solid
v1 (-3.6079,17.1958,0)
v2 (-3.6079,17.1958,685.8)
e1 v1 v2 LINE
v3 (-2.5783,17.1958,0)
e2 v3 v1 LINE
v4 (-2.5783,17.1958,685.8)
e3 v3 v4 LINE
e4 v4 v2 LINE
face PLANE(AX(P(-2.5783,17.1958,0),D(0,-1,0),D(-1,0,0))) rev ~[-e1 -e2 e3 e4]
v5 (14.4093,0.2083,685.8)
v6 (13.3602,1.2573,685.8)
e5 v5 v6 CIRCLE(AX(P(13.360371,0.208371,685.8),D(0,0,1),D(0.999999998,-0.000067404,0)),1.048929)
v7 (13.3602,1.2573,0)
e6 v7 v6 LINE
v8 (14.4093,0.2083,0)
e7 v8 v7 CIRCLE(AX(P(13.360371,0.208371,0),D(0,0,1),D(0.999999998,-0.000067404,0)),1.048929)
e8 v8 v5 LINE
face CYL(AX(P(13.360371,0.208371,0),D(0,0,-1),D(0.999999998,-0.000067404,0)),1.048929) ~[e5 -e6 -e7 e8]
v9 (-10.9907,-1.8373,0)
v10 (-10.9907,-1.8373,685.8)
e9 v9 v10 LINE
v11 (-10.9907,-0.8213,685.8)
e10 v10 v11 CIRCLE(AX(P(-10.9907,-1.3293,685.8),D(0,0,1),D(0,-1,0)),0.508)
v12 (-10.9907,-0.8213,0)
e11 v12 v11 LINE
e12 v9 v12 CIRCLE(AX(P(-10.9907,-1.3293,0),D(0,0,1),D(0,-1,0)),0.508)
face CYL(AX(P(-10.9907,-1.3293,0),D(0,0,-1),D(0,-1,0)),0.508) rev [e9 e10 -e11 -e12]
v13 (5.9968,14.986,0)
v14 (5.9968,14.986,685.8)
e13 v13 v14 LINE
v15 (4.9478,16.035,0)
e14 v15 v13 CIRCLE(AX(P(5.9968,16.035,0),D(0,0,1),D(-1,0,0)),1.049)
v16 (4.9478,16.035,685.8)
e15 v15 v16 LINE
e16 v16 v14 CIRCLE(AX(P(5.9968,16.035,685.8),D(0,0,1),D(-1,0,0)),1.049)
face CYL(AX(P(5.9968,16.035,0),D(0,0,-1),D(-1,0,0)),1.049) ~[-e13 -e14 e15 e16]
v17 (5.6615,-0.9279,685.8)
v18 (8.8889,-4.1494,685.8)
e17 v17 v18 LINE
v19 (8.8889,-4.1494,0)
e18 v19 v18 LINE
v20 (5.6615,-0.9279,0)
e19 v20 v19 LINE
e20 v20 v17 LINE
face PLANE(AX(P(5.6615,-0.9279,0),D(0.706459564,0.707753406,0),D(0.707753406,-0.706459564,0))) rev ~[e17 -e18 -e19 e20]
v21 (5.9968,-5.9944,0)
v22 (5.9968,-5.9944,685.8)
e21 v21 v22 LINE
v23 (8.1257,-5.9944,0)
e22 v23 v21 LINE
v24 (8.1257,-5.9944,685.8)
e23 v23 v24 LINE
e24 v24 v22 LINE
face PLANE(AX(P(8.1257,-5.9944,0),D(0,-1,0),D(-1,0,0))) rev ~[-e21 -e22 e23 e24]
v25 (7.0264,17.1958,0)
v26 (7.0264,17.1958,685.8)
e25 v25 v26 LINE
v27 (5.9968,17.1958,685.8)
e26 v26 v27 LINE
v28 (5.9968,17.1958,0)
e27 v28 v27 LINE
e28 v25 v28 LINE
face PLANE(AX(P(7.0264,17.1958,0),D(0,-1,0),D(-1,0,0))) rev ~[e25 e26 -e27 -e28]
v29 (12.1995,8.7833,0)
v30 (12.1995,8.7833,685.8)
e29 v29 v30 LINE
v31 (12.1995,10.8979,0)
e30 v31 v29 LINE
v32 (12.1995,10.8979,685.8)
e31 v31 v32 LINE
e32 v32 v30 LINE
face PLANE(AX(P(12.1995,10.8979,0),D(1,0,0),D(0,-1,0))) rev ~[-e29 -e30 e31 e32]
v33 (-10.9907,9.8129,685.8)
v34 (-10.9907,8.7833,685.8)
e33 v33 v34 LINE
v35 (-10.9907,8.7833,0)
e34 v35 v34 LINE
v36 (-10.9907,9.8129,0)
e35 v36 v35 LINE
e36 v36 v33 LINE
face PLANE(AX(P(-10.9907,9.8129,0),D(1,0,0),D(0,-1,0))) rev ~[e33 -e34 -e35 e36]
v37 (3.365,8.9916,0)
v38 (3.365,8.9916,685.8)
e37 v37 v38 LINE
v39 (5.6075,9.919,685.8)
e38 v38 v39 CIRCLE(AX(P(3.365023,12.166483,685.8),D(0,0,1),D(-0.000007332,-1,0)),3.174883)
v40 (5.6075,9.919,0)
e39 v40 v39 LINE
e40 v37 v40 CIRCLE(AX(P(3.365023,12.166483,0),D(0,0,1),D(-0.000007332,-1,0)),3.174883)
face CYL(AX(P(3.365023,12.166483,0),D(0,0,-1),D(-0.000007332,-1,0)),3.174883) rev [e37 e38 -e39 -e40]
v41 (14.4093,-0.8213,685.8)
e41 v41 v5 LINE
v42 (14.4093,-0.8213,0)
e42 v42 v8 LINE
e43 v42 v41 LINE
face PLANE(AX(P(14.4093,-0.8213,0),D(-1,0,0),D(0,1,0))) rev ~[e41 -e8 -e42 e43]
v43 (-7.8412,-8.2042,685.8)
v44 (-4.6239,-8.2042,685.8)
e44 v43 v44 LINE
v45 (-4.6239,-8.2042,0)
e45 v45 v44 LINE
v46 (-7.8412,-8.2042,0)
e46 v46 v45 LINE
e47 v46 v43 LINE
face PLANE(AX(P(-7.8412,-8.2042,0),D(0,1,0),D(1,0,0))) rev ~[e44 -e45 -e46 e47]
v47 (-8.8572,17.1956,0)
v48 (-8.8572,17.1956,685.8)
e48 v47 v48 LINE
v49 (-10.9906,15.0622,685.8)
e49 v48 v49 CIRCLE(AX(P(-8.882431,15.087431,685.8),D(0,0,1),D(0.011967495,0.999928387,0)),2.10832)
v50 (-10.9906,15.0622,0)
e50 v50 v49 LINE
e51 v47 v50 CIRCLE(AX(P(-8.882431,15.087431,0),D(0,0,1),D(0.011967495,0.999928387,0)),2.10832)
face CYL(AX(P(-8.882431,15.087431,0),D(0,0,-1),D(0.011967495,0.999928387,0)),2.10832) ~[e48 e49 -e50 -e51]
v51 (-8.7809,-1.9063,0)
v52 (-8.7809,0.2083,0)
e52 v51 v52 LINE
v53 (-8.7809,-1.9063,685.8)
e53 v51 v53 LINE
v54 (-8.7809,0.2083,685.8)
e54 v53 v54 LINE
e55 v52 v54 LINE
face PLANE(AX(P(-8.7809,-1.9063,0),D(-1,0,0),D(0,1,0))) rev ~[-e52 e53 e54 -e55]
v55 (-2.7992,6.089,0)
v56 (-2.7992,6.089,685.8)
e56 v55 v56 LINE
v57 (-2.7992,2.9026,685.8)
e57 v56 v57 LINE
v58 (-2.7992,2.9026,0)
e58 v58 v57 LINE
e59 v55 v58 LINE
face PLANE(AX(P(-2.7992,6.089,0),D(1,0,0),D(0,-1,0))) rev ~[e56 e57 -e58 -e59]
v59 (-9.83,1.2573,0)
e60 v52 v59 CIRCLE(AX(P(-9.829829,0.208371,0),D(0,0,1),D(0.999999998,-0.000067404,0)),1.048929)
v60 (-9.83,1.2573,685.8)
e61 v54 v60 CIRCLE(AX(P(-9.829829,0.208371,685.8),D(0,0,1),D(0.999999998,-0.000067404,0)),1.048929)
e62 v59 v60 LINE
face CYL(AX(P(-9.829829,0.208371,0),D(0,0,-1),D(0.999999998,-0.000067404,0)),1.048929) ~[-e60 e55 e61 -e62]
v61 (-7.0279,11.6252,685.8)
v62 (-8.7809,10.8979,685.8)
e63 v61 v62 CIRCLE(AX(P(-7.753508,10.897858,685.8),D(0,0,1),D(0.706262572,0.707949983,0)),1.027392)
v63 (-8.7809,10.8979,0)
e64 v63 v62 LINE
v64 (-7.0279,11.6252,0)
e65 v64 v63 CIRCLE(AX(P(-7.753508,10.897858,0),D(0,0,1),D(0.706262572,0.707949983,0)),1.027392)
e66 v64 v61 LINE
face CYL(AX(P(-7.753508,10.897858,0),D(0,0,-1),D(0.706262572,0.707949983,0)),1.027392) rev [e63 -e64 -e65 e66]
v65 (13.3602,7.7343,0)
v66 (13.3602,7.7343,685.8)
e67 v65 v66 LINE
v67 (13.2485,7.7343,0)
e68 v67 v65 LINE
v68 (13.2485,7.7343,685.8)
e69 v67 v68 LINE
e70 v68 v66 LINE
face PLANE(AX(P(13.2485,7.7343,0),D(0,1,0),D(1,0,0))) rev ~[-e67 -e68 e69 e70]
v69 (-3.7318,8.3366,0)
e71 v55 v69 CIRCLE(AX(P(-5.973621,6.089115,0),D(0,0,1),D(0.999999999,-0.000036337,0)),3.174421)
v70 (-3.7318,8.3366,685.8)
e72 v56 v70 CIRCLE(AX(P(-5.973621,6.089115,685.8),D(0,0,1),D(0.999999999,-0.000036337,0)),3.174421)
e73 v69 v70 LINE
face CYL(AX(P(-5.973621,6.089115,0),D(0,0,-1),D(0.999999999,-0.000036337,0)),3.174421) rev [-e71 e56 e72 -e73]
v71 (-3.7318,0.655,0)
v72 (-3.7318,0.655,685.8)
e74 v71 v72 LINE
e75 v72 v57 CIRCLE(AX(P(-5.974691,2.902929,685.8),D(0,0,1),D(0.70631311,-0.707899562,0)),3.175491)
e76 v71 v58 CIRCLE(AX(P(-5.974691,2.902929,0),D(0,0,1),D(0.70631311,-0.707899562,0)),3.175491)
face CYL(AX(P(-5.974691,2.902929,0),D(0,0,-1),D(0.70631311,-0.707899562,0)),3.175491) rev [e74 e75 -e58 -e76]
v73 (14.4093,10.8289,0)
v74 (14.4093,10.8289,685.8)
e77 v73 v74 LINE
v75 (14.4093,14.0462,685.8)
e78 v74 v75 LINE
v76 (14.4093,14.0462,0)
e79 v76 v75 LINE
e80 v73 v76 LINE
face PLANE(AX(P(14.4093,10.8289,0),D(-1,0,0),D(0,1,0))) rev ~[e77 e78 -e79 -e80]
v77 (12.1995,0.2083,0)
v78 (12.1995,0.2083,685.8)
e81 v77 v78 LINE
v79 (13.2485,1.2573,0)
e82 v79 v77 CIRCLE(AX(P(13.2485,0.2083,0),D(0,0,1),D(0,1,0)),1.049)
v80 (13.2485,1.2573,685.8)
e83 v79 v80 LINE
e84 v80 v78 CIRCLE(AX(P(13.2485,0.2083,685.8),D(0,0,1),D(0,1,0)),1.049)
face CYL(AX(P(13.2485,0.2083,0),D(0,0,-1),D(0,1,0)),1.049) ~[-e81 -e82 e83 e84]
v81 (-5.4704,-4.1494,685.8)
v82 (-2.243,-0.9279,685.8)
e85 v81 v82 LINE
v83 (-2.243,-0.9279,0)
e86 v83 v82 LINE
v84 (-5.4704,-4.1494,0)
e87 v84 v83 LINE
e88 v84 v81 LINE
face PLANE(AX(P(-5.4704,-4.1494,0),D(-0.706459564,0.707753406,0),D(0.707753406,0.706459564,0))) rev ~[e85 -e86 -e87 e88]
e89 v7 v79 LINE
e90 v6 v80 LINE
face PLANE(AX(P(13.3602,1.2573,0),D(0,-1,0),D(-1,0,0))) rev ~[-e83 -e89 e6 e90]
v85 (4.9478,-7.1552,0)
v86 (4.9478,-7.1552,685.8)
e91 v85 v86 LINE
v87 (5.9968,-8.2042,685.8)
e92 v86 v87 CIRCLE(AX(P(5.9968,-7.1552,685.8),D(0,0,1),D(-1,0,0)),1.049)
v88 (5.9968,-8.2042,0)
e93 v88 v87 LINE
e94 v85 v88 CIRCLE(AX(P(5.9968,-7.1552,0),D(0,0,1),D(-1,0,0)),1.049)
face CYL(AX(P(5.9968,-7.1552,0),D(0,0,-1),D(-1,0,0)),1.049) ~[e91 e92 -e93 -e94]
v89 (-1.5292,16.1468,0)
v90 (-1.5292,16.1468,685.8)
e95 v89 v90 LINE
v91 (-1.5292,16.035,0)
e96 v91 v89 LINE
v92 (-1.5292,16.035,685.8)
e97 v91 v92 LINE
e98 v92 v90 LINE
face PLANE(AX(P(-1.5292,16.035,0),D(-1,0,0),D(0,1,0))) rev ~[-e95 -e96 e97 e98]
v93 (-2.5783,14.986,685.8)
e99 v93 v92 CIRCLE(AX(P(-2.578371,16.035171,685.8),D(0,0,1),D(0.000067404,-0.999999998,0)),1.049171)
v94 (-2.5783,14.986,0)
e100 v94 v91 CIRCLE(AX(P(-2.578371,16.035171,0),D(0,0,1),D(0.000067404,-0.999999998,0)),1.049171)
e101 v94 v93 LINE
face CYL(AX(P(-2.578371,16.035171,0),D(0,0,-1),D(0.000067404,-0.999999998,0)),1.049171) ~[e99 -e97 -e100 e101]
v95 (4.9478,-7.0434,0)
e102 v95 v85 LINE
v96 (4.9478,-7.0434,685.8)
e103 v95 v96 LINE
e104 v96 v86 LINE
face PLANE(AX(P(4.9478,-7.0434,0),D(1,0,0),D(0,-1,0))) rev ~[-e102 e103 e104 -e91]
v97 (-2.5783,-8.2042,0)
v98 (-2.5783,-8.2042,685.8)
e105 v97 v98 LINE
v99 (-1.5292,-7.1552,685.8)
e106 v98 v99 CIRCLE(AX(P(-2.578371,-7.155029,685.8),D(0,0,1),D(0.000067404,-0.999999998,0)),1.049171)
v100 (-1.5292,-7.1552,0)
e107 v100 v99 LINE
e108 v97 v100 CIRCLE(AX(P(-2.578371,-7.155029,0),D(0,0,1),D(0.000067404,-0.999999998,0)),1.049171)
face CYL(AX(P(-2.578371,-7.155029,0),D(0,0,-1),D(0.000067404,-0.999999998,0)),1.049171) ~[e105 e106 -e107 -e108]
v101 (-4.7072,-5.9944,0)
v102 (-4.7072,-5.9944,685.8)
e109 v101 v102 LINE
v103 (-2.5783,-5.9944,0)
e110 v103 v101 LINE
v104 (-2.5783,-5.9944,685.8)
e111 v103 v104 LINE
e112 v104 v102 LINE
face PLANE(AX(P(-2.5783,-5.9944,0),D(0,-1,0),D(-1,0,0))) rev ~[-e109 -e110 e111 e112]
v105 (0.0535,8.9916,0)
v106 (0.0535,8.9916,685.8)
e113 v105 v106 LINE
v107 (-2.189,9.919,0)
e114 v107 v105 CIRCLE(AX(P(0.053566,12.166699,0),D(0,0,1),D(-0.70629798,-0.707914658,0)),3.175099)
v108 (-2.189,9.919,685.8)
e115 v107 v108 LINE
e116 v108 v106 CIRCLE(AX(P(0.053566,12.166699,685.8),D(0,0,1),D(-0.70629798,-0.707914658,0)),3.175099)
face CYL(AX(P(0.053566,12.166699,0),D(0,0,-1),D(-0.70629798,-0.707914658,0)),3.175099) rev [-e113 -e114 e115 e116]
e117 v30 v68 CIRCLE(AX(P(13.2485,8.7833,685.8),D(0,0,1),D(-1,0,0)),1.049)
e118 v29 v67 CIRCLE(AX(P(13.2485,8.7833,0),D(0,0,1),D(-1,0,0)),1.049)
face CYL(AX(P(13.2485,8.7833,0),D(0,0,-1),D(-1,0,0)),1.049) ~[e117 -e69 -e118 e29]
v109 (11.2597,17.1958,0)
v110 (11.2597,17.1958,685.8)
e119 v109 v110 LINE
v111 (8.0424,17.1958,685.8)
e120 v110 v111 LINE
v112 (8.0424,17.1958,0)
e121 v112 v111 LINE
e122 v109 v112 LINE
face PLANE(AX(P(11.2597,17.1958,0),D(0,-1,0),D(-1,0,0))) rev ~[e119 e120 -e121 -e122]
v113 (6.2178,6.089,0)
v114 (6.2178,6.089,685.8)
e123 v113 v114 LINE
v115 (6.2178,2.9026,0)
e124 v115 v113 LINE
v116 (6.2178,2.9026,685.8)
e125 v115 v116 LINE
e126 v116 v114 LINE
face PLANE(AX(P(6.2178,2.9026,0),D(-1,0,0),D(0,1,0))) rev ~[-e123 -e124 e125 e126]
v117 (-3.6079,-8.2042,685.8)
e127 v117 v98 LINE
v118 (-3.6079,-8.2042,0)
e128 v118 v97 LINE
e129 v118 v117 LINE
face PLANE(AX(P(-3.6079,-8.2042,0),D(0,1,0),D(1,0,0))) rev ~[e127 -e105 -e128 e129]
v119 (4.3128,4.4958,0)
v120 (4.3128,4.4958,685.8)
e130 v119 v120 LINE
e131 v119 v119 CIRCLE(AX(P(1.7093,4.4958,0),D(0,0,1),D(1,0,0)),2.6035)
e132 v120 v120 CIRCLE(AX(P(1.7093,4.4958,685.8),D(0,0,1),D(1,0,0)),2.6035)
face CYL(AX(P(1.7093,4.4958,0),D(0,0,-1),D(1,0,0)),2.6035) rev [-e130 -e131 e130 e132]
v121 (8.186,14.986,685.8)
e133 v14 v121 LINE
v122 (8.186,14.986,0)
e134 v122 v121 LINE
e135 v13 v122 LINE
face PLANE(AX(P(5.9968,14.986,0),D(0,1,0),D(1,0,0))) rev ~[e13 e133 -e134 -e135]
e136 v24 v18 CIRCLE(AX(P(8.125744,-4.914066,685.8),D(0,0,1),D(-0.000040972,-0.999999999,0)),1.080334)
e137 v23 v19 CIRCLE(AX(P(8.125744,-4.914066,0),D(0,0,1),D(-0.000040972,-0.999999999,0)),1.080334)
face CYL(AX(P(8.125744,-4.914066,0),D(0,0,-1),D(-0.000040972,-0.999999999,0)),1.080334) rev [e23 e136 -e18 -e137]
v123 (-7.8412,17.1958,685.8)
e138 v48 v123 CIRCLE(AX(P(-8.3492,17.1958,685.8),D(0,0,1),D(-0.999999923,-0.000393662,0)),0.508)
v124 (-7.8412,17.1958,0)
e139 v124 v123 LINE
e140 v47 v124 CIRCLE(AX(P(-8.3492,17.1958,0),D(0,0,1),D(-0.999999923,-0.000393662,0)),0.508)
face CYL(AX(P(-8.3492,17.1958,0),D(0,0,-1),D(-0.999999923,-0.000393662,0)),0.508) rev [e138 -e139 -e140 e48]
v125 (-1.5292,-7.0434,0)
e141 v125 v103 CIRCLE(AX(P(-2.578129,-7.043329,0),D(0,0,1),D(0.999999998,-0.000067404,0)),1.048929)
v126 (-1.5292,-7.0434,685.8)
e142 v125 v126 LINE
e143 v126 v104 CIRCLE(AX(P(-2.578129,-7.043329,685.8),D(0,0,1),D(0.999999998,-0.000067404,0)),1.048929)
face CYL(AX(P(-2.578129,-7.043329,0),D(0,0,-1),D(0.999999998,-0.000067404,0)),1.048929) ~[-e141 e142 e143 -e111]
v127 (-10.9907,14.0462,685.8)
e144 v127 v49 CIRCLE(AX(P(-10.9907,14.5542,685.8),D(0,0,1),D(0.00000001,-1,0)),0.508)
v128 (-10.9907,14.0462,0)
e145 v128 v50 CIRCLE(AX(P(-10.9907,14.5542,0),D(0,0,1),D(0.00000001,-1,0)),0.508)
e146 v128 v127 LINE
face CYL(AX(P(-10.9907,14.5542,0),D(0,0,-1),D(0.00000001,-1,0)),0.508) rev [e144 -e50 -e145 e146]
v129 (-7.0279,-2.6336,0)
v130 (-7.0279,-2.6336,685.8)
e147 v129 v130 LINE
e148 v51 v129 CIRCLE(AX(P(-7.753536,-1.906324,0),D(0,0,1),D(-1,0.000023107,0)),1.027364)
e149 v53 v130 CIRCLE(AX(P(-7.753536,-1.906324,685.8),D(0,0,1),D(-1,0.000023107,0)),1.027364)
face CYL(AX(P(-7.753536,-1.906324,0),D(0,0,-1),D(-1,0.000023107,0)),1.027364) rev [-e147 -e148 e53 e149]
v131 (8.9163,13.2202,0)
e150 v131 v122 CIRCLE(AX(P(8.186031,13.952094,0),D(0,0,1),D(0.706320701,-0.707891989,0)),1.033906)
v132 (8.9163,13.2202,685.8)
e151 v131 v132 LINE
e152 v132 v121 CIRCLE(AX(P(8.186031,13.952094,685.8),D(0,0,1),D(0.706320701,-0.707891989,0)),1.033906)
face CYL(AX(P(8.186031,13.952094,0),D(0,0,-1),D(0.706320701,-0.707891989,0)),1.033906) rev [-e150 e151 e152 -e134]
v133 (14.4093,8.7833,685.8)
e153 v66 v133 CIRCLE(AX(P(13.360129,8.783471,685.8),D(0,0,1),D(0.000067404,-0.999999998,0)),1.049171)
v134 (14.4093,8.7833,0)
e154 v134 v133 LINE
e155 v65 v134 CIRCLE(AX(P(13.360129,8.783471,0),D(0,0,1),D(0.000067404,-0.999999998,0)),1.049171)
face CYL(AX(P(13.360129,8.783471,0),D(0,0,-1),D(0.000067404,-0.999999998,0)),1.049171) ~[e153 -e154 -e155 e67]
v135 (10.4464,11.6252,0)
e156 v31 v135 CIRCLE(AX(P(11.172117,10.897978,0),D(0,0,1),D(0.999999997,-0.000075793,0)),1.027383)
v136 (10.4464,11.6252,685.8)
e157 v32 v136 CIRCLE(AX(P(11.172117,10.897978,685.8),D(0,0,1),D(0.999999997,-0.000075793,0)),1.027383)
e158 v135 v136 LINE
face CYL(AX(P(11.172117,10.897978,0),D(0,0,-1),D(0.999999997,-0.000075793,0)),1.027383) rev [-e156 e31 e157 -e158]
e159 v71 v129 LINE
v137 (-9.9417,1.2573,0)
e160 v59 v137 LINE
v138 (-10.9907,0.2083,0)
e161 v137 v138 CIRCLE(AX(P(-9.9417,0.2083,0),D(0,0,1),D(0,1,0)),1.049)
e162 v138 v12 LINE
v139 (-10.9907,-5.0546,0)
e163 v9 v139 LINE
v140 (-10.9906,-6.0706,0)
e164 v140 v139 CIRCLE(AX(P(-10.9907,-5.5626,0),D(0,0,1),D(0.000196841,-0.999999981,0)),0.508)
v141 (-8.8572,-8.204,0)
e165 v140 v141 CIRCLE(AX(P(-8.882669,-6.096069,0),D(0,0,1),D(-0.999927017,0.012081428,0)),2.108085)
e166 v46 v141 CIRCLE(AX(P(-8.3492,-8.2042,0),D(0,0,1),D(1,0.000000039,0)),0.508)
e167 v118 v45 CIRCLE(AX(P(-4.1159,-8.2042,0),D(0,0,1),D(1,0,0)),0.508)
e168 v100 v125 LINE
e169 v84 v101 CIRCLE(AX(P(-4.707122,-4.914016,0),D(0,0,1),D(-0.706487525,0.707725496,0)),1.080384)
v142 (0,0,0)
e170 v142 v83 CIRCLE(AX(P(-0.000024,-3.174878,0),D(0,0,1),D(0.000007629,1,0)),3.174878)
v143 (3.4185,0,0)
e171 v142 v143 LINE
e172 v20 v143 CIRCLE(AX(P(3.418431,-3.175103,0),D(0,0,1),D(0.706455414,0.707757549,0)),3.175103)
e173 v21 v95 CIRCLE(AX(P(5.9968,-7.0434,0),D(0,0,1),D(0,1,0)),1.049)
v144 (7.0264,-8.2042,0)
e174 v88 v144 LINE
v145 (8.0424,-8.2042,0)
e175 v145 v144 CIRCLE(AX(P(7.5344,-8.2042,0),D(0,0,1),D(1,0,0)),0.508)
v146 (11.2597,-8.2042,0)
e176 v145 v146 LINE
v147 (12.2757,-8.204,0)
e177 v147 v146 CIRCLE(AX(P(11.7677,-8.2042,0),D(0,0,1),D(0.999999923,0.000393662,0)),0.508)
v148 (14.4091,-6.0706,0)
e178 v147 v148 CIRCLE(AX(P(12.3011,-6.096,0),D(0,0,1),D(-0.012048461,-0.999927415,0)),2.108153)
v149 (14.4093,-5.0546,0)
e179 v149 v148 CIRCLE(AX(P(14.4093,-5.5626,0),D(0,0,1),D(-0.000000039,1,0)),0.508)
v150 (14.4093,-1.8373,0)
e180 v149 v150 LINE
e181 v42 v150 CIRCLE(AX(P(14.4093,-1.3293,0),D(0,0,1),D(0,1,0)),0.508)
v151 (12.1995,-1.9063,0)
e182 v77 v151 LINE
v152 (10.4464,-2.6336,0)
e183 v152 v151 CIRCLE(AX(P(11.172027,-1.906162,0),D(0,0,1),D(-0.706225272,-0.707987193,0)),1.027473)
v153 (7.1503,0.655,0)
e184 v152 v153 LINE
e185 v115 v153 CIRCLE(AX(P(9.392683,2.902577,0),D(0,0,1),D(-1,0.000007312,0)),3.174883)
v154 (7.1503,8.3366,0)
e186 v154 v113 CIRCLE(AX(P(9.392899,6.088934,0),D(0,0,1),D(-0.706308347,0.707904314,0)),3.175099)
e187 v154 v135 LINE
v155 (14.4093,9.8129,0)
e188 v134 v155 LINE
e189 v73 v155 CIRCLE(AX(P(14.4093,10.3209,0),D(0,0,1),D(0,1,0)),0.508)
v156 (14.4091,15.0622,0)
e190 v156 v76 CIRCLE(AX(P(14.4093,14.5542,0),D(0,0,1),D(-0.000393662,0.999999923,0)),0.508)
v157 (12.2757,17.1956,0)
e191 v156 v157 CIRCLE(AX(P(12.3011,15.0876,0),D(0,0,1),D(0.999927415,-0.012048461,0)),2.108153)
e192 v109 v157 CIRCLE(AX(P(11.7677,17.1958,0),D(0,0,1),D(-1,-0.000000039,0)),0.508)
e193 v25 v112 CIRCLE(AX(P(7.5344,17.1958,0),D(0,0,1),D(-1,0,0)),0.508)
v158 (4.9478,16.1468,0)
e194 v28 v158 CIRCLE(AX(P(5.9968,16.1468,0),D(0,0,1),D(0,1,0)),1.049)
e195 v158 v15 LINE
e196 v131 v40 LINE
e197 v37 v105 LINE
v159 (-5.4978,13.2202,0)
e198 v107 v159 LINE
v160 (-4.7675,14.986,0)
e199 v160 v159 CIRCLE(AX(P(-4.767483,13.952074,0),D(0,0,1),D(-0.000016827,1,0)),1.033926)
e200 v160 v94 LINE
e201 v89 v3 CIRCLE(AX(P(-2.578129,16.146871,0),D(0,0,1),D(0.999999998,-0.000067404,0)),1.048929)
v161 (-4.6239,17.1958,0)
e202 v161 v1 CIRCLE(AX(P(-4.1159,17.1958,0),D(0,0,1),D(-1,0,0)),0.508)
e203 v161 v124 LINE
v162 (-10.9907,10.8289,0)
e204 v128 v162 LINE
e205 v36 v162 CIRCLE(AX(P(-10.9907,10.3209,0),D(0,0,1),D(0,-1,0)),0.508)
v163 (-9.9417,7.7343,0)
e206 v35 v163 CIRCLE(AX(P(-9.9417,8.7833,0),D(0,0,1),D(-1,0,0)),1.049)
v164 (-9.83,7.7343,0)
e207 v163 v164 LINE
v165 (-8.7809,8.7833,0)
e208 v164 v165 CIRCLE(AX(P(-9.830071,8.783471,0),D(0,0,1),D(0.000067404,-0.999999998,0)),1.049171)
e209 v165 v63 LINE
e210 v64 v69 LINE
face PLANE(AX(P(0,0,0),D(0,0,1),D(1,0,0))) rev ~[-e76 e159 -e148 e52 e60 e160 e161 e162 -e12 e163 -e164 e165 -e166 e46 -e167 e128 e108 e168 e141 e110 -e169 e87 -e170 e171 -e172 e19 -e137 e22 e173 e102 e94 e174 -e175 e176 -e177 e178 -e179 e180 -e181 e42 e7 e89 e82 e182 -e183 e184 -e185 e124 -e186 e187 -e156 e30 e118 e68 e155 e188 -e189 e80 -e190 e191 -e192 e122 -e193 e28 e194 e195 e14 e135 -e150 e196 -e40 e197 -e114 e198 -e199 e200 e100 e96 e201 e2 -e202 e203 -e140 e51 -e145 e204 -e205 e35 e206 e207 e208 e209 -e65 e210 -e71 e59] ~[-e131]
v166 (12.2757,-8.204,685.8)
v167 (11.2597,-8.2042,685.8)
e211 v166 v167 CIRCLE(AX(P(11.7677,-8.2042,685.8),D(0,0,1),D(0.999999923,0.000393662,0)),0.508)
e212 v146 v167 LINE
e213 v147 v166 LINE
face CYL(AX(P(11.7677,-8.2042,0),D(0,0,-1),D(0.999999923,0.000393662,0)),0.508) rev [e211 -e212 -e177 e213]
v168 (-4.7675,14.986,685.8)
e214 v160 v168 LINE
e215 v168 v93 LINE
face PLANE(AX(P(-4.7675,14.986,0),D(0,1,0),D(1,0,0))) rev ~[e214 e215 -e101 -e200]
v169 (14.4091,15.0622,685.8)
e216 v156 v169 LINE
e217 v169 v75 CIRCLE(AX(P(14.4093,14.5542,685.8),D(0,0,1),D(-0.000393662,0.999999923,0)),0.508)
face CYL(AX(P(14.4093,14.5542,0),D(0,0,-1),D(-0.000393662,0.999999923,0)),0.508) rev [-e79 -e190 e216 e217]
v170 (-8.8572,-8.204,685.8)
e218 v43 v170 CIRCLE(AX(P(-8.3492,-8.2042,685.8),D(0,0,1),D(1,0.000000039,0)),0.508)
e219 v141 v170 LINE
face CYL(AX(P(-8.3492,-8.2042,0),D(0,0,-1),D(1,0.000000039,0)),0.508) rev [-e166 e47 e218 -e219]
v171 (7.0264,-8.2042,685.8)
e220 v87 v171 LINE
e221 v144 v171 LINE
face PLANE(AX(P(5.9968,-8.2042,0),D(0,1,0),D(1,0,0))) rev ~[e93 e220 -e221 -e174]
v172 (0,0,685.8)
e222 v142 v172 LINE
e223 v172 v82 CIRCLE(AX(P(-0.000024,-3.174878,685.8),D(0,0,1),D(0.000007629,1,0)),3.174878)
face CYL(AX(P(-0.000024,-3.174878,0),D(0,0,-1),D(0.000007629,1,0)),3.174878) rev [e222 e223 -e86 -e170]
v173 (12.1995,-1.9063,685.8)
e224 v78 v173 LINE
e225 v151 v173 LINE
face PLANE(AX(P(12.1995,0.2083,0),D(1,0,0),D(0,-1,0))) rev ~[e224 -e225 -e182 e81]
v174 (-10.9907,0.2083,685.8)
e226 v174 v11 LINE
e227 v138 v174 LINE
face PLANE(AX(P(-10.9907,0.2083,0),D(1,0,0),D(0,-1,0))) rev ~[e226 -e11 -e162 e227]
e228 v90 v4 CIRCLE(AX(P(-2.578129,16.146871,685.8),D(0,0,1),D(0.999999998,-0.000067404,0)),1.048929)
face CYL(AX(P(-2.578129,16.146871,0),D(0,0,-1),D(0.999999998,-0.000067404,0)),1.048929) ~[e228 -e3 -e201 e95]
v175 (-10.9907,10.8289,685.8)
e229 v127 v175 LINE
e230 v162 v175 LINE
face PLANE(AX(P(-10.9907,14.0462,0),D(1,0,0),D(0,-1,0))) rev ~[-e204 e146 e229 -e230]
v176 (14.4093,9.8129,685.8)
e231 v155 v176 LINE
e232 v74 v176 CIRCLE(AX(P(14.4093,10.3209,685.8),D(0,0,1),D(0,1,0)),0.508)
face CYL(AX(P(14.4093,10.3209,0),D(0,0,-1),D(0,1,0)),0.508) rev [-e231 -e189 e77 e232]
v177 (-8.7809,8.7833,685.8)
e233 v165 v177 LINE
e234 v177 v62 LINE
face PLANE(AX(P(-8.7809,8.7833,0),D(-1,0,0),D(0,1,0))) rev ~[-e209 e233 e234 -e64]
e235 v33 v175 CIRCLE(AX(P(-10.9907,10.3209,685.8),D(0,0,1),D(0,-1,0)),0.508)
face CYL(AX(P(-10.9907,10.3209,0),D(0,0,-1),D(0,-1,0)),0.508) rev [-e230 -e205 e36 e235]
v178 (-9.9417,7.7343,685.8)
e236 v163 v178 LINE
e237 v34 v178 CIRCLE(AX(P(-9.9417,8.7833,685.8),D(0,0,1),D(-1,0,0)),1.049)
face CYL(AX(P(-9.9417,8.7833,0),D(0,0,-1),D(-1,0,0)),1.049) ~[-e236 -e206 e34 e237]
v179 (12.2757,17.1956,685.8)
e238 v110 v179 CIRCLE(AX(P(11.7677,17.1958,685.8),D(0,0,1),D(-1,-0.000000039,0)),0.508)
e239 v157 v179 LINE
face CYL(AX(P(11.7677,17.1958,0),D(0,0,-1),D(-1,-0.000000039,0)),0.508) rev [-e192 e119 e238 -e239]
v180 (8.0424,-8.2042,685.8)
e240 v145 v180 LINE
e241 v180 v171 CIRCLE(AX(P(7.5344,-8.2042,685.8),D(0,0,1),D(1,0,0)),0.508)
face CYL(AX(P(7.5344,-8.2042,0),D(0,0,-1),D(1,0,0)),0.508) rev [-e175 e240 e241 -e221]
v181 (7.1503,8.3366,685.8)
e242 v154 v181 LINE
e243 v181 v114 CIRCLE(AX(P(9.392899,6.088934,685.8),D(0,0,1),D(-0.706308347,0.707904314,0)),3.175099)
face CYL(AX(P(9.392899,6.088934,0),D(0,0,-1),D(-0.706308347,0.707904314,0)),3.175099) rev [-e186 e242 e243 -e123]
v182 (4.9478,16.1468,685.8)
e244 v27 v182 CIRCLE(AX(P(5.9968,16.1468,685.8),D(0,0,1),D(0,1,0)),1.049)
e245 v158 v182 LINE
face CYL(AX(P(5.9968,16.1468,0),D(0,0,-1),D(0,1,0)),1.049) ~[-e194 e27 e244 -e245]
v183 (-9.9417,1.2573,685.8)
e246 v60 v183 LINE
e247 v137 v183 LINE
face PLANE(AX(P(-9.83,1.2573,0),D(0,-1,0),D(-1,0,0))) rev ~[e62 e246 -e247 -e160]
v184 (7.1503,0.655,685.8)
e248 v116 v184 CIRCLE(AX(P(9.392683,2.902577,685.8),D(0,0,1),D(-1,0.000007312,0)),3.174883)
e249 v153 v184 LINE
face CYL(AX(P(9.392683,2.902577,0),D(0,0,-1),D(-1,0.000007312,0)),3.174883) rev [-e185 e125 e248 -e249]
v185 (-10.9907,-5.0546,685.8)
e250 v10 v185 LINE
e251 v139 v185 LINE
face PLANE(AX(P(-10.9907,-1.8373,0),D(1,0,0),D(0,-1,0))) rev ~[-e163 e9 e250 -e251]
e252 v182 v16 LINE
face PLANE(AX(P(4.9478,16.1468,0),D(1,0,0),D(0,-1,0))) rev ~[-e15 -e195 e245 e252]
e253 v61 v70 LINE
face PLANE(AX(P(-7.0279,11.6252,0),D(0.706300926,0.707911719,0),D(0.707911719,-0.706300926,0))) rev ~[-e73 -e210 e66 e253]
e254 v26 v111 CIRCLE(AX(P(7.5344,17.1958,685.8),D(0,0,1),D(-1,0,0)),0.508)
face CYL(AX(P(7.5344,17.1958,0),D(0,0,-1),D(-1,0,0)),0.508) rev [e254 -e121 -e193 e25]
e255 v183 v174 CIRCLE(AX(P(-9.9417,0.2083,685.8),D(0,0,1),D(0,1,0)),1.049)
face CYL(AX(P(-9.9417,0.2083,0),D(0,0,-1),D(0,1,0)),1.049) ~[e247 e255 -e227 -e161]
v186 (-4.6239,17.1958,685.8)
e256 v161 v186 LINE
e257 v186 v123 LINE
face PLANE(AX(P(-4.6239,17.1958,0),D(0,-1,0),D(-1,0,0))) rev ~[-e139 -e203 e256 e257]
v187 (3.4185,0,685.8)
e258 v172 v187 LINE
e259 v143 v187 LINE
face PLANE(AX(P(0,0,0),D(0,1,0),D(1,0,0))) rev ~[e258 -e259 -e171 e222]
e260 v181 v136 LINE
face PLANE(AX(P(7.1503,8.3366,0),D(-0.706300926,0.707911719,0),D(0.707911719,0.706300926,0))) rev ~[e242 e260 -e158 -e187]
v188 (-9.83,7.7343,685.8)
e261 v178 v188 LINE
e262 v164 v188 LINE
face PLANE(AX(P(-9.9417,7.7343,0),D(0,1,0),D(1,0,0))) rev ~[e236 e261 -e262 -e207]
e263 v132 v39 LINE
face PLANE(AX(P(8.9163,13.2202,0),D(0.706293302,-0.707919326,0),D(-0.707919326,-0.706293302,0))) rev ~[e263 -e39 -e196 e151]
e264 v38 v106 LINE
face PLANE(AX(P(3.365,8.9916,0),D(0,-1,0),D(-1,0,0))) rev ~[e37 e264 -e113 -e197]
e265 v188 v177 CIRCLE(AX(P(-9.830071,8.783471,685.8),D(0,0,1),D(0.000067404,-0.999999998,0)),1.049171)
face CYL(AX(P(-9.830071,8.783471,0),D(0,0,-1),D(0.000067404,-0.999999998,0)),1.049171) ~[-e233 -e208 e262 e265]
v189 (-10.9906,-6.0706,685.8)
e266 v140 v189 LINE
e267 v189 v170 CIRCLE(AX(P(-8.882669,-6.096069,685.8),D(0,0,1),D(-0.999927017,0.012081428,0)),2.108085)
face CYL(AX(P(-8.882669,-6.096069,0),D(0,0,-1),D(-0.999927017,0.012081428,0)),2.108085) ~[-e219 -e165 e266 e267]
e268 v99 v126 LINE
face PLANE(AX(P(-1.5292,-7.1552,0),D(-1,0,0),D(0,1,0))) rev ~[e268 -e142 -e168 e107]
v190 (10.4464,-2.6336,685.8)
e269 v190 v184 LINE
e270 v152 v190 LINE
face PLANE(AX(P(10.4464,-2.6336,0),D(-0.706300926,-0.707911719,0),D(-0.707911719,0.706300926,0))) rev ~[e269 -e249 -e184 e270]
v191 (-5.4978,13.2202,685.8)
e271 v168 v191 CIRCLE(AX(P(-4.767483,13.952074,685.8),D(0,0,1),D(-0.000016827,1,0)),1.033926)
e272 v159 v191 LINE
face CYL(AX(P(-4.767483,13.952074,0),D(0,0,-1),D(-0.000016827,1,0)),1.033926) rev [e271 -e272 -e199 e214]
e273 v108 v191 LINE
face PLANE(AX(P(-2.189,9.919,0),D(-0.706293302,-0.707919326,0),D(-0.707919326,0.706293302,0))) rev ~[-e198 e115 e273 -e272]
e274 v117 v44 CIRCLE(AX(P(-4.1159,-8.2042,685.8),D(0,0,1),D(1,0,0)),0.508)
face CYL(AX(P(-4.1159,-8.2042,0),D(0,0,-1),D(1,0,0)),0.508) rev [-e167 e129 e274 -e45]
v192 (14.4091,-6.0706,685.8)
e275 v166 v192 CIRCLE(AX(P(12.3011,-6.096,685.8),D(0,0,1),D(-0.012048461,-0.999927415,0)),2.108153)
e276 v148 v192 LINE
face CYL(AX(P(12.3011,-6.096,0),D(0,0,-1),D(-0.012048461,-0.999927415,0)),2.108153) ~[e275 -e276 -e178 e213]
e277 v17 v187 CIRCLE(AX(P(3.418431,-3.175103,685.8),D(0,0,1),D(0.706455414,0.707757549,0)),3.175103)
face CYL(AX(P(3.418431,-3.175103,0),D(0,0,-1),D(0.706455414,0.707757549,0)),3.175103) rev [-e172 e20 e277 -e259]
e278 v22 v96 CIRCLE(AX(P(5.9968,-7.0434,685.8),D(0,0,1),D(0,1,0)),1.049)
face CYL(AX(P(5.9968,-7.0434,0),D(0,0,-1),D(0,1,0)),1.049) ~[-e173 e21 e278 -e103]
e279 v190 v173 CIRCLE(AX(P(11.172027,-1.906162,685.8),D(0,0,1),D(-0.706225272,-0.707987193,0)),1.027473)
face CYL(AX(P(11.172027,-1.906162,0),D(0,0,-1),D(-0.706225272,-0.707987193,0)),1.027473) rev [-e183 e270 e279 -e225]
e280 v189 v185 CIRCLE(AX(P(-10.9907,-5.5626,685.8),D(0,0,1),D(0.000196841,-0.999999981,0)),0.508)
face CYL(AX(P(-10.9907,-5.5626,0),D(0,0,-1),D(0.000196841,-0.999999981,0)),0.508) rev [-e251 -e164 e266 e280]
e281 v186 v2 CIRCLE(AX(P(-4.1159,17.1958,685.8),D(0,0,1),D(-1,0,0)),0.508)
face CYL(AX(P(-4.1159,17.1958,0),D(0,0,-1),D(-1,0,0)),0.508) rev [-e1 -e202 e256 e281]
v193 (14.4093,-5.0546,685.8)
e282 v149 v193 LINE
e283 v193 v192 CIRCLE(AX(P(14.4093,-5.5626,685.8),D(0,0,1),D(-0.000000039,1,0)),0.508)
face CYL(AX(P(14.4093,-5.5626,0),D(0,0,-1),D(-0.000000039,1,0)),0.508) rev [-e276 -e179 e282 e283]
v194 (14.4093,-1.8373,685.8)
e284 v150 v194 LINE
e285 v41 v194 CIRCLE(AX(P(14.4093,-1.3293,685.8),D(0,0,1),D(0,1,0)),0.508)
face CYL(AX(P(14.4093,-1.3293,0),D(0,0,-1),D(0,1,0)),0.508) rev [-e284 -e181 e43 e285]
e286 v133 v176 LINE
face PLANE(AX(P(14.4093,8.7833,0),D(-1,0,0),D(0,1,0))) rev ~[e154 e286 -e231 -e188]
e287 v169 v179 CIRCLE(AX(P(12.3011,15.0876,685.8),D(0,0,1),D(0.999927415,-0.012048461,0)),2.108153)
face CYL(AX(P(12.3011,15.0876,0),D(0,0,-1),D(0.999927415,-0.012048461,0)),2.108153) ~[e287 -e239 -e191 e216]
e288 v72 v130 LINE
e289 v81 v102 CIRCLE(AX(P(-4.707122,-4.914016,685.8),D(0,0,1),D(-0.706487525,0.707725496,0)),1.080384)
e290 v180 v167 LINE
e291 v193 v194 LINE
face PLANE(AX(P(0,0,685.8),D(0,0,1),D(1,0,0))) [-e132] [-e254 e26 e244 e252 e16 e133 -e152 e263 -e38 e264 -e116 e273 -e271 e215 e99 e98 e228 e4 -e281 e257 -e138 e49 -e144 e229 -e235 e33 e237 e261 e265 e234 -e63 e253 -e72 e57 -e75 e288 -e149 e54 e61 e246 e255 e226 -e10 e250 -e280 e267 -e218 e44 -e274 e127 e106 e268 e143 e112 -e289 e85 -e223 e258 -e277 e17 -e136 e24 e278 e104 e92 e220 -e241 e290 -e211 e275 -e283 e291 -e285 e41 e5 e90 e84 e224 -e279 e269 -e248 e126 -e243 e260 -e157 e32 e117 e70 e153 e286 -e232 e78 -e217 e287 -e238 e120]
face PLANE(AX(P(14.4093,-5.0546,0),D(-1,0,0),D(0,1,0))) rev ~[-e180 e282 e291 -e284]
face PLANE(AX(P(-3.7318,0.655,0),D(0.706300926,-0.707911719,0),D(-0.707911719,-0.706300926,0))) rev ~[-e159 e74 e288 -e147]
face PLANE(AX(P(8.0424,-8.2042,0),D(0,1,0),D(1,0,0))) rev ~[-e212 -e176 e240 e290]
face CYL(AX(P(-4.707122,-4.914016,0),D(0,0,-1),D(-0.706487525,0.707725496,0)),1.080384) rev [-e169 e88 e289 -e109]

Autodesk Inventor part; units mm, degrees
ref_plane "YZ Plane" through (0, 0, 0) normal (1, 0, 0) x (0, 1, 0)
ref_plane "XZ Plane" through (0, 0, 0) normal (0, 1, 0) x (-1, 0, 0)
ref_plane "XY Plane" through (0, 0, 0) normal (0, 0, 1) x (1, 0, 0)
sketch "Sketch1" plane through (0, 0, 0) normal (0, 0, 1) x (1, 0, 0)
  arc A0 (-5.4704, -4.1494) -> (-4.7072, -5.9944) centre (-4.7072, -4.914) ccw
  line L0 (-5.4704, -4.1494) -> (-2.243, -0.9279)
  arc A1 (0, 0) -> (-2.243, -0.9279) centre (0, -3.175) ccw
  line L1 (0, 0) -> (3.4185, 0)
  arc A2 (5.6615, -0.9279) -> (3.4185, 0) centre (3.4185, -3.175) ccw
  line L2 (5.6615, -0.9279) -> (8.8889, -4.1494)
  arc A3 (8.1257, -5.9944) -> (8.8889, -4.1494) centre (8.1257, -4.914) ccw
  line L3 (8.1257, -5.9944) -> (5.9968, -5.9944)
  arc A4 (5.9968, -5.9944) -> (4.9478, -7.0434) centre (5.9968, -7.0434) ccw
  line L4 (4.9478, -7.0434) -> (4.9478, -7.1552)
  arc A5 (4.9478, -7.1552) -> (5.9968, -8.2042) centre (5.9968, -7.1552) ccw
  line L5 (5.9968, -8.2042) -> (7.0264, -8.2042)
  arc A6 (8.0424, -8.2042) -> (7.0264, -8.2042) centre (7.5344, -8.2042) ccw
  line L6 (8.0424, -8.2042) -> (11.2597, -8.2042)
  arc A7 (12.2757, -8.204) -> (11.2597, -8.2042) centre (11.7677, -8.2042) ccw
  arc A8 (12.2757, -8.204) -> (14.4091, -6.0706) centre (12.3011, -6.096) ccw
  arc A9 (14.4093, -5.0546) -> (14.4091, -6.0706) centre (14.4093, -5.5626) ccw
  line L7 (14.4093, -5.0546) -> (14.4093, -1.8373)
  arc A10 (14.4093, -0.8213) -> (14.4093, -1.8373) centre (14.4093, -1.3293) ccw
  line L8 (14.4093, -0.8213) -> (14.4093, 0.2083)
  arc A11 (14.4093, 0.2083) -> (13.3602, 1.2573) centre (13.3602, 0.2083) ccw
  line L9 (13.3602, 1.2573) -> (13.2485, 1.2573)
  arc A12 (13.2485, 1.2573) -> (12.1995, 0.2083) centre (13.2485, 0.2083) ccw
  line L10 (12.1995, 0.2083) -> (12.1995, -1.9063)
  arc A13 (10.4464, -2.6336) -> (12.1995, -1.9063) centre (11.172, -1.9063) ccw
  line L11 (10.4464, -2.6336) -> (7.1503, 0.655)
  arc A14 (6.2178, 2.9026) -> (7.1503, 0.655) centre (9.3928, 2.9026) ccw
  line L12 (6.2178, 2.9026) -> (6.2178, 6.089)
  arc A15 (7.1503, 8.3366) -> (6.2178, 6.089) centre (9.3928, 6.089) ccw
  line L13 (7.1503, 8.3366) -> (10.4464, 11.6252)
  arc A16 (12.1995, 10.8979) -> (10.4464, 11.6252) centre (11.172, 10.8979) ccw
  line L14 (12.1995, 10.8979) -> (12.1995, 8.7833)
  arc A17 (12.1995, 8.7833) -> (13.2485, 7.7343) centre (13.2485, 8.7833) ccw
  line L15 (13.2485, 7.7343) -> (13.3602, 7.7343)
  arc A18 (13.3602, 7.7343) -> (14.4093, 8.7833) centre (13.3602, 8.7833) ccw
  line L16 (14.4093, 8.7833) -> (14.4093, 9.8129)
  arc A19 (14.4093, 10.8289) -> (14.4093, 9.8129) centre (14.4093, 10.3209) ccw
  line L17 (14.4093, 10.8289) -> (14.4093, 14.0462)
  arc A20 (14.4091, 15.0622) -> (14.4093, 14.0462) centre (14.4093, 14.5542) ccw
  arc A21 (14.4091, 15.0622) -> (12.2757, 17.1956) centre (12.3011, 15.0876) ccw
  arc A22 (11.2597, 17.1958) -> (12.2757, 17.1956) centre (11.7677, 17.1958) ccw
  line L18 (11.2597, 17.1958) -> (8.0424, 17.1958)
  arc A23 (7.0264, 17.1958) -> (8.0424, 17.1958) centre (7.5344, 17.1958) ccw
  line L19 (7.0264, 17.1958) -> (5.9968, 17.1958)
  arc A24 (5.9968, 17.1958) -> (4.9478, 16.1468) centre (5.9968, 16.1468) ccw
  line L20 (4.9478, 16.1468) -> (4.9478, 16.035)
  arc A25 (4.9478, 16.035) -> (5.9968, 14.986) centre (5.9968, 16.035) ccw
  line L21 (5.9968, 14.986) -> (8.186, 14.986)
  arc A26 (8.9163, 13.2202) -> (8.186, 14.986) centre (8.186, 13.9521) ccw
  line L22 (8.9163, 13.2202) -> (5.6075, 9.919)
  arc A27 (3.365, 8.9916) -> (5.6075, 9.919) centre (3.365, 12.1666) ccw
  line L23 (3.365, 8.9916) -> (0.0535, 8.9916)
  arc A28 (-2.189, 9.919) -> (0.0535, 8.9916) centre (0.0535, 12.1666) ccw
  line L24 (-2.189, 9.919) -> (-5.4978, 13.2202)
  arc A29 (-4.7675, 14.986) -> (-5.4978, 13.2202) centre (-4.7675, 13.9521) ccw
  line L25 (-4.7675, 14.986) -> (-2.5783, 14.986)
  arc A30 (-2.5783, 14.986) -> (-1.5292, 16.035) centre (-2.5783, 16.035) ccw
  line L26 (-1.5292, 16.035) -> (-1.5292, 16.1468)
  arc A31 (-1.5292, 16.1468) -> (-2.5783, 17.1958) centre (-2.5783, 16.1468) ccw
  line L27 (-2.5783, 17.1958) -> (-3.6079, 17.1958)
  arc A32 (-4.6239, 17.1958) -> (-3.6079, 17.1958) centre (-4.1159, 17.1958) ccw
  line L28 (-4.6239, 17.1958) -> (-7.8412, 17.1958)
  arc A33 (-8.8572, 17.1956) -> (-7.8412, 17.1958) centre (-8.3492, 17.1958) ccw
  arc A34 (-8.8572, 17.1956) -> (-10.9906, 15.0622) centre (-8.8825, 15.0876) ccw
  arc A35 (-10.9907, 14.0462) -> (-10.9906, 15.0622) centre (-10.9907, 14.5542) ccw
  line L29 (-10.9907, 14.0462) -> (-10.9907, 10.8289)
  arc A36 (-10.9907, 9.8129) -> (-10.9907, 10.8289) centre (-10.9907, 10.3209) ccw
  line L30 (-10.9907, 9.8129) -> (-10.9907, 8.7833)
  arc A37 (-10.9907, 8.7833) -> (-9.9417, 7.7343) centre (-9.9417, 8.7833) ccw
  line L31 (-9.9417, 7.7343) -> (-9.83, 7.7343)
  arc A38 (-9.83, 7.7343) -> (-8.7809, 8.7833) centre (-9.83, 8.7833) ccw
  line L32 (-8.7809, 8.7833) -> (-8.7809, 10.8979)
  arc A39 (-7.0279, 11.6252) -> (-8.7809, 10.8979) centre (-7.7535, 10.8979) ccw
  line L33 (-7.0279, 11.6252) -> (-3.7318, 8.3366)
  arc A40 (-2.7992, 6.089) -> (-3.7318, 8.3366) centre (-5.9742, 6.089) ccw
  line L34 (-2.7992, 6.089) -> (-2.7992, 2.9026)
  arc A41 (-3.7318, 0.655) -> (-2.7992, 2.9026) centre (-5.9742, 2.9026) ccw
  line L35 (-3.7318, 0.655) -> (-7.0279, -2.6336)
  arc A42 (-8.7809, -1.9063) -> (-7.0279, -2.6336) centre (-7.7535, -1.9063) ccw
  line L36 (-8.7809, -1.9063) -> (-8.7809, 0.2083)
  arc A43 (-8.7809, 0.2083) -> (-9.83, 1.2573) centre (-9.83, 0.2083) ccw
  line L37 (-9.83, 1.2573) -> (-9.9417, 1.2573)
  arc A44 (-9.9417, 1.2573) -> (-10.9907, 0.2083) centre (-9.9417, 0.2083) ccw
  line L38 (-10.9907, 0.2083) -> (-10.9907, -0.8213)
  arc A45 (-10.9907, -1.8373) -> (-10.9907, -0.8213) centre (-10.9907, -1.3293) ccw
  line L39 (-10.9907, -1.8373) -> (-10.9907, -5.0546)
  arc A46 (-10.9906, -6.0706) -> (-10.9907, -5.0546) centre (-10.9907, -5.5626) ccw
  arc A47 (-10.9906, -6.0706) -> (-8.8572, -8.204) centre (-8.8825, -6.096) ccw
  arc A48 (-7.8412, -8.2042) -> (-8.8572, -8.204) centre (-8.3492, -8.2042) ccw
  line L40 (-7.8412, -8.2042) -> (-4.6239, -8.2042)
  arc A49 (-3.6079, -8.2042) -> (-4.6239, -8.2042) centre (-4.1159, -8.2042) ccw
  line L41 (-3.6079, -8.2042) -> (-2.5783, -8.2042)
  arc A50 (-2.5783, -8.2042) -> (-1.5292, -7.1552) centre (-2.5783, -7.1552) ccw
  line L42 (-1.5292, -7.1552) -> (-1.5292, -7.0434)
  arc A51 (-1.5292, -7.0434) -> (-2.5783, -5.9944) centre (-2.5783, -7.0434) ccw
  line L43 (-2.5783, -5.9944) -> (-4.7072, -5.9944)
  circle A52 centre (1.7093, 4.4958) radius 2.6035
extrude "Extrusion1" add sketch "Sketch1" along normal blind 685.8
properties part number "27in 1x1 T slot"
